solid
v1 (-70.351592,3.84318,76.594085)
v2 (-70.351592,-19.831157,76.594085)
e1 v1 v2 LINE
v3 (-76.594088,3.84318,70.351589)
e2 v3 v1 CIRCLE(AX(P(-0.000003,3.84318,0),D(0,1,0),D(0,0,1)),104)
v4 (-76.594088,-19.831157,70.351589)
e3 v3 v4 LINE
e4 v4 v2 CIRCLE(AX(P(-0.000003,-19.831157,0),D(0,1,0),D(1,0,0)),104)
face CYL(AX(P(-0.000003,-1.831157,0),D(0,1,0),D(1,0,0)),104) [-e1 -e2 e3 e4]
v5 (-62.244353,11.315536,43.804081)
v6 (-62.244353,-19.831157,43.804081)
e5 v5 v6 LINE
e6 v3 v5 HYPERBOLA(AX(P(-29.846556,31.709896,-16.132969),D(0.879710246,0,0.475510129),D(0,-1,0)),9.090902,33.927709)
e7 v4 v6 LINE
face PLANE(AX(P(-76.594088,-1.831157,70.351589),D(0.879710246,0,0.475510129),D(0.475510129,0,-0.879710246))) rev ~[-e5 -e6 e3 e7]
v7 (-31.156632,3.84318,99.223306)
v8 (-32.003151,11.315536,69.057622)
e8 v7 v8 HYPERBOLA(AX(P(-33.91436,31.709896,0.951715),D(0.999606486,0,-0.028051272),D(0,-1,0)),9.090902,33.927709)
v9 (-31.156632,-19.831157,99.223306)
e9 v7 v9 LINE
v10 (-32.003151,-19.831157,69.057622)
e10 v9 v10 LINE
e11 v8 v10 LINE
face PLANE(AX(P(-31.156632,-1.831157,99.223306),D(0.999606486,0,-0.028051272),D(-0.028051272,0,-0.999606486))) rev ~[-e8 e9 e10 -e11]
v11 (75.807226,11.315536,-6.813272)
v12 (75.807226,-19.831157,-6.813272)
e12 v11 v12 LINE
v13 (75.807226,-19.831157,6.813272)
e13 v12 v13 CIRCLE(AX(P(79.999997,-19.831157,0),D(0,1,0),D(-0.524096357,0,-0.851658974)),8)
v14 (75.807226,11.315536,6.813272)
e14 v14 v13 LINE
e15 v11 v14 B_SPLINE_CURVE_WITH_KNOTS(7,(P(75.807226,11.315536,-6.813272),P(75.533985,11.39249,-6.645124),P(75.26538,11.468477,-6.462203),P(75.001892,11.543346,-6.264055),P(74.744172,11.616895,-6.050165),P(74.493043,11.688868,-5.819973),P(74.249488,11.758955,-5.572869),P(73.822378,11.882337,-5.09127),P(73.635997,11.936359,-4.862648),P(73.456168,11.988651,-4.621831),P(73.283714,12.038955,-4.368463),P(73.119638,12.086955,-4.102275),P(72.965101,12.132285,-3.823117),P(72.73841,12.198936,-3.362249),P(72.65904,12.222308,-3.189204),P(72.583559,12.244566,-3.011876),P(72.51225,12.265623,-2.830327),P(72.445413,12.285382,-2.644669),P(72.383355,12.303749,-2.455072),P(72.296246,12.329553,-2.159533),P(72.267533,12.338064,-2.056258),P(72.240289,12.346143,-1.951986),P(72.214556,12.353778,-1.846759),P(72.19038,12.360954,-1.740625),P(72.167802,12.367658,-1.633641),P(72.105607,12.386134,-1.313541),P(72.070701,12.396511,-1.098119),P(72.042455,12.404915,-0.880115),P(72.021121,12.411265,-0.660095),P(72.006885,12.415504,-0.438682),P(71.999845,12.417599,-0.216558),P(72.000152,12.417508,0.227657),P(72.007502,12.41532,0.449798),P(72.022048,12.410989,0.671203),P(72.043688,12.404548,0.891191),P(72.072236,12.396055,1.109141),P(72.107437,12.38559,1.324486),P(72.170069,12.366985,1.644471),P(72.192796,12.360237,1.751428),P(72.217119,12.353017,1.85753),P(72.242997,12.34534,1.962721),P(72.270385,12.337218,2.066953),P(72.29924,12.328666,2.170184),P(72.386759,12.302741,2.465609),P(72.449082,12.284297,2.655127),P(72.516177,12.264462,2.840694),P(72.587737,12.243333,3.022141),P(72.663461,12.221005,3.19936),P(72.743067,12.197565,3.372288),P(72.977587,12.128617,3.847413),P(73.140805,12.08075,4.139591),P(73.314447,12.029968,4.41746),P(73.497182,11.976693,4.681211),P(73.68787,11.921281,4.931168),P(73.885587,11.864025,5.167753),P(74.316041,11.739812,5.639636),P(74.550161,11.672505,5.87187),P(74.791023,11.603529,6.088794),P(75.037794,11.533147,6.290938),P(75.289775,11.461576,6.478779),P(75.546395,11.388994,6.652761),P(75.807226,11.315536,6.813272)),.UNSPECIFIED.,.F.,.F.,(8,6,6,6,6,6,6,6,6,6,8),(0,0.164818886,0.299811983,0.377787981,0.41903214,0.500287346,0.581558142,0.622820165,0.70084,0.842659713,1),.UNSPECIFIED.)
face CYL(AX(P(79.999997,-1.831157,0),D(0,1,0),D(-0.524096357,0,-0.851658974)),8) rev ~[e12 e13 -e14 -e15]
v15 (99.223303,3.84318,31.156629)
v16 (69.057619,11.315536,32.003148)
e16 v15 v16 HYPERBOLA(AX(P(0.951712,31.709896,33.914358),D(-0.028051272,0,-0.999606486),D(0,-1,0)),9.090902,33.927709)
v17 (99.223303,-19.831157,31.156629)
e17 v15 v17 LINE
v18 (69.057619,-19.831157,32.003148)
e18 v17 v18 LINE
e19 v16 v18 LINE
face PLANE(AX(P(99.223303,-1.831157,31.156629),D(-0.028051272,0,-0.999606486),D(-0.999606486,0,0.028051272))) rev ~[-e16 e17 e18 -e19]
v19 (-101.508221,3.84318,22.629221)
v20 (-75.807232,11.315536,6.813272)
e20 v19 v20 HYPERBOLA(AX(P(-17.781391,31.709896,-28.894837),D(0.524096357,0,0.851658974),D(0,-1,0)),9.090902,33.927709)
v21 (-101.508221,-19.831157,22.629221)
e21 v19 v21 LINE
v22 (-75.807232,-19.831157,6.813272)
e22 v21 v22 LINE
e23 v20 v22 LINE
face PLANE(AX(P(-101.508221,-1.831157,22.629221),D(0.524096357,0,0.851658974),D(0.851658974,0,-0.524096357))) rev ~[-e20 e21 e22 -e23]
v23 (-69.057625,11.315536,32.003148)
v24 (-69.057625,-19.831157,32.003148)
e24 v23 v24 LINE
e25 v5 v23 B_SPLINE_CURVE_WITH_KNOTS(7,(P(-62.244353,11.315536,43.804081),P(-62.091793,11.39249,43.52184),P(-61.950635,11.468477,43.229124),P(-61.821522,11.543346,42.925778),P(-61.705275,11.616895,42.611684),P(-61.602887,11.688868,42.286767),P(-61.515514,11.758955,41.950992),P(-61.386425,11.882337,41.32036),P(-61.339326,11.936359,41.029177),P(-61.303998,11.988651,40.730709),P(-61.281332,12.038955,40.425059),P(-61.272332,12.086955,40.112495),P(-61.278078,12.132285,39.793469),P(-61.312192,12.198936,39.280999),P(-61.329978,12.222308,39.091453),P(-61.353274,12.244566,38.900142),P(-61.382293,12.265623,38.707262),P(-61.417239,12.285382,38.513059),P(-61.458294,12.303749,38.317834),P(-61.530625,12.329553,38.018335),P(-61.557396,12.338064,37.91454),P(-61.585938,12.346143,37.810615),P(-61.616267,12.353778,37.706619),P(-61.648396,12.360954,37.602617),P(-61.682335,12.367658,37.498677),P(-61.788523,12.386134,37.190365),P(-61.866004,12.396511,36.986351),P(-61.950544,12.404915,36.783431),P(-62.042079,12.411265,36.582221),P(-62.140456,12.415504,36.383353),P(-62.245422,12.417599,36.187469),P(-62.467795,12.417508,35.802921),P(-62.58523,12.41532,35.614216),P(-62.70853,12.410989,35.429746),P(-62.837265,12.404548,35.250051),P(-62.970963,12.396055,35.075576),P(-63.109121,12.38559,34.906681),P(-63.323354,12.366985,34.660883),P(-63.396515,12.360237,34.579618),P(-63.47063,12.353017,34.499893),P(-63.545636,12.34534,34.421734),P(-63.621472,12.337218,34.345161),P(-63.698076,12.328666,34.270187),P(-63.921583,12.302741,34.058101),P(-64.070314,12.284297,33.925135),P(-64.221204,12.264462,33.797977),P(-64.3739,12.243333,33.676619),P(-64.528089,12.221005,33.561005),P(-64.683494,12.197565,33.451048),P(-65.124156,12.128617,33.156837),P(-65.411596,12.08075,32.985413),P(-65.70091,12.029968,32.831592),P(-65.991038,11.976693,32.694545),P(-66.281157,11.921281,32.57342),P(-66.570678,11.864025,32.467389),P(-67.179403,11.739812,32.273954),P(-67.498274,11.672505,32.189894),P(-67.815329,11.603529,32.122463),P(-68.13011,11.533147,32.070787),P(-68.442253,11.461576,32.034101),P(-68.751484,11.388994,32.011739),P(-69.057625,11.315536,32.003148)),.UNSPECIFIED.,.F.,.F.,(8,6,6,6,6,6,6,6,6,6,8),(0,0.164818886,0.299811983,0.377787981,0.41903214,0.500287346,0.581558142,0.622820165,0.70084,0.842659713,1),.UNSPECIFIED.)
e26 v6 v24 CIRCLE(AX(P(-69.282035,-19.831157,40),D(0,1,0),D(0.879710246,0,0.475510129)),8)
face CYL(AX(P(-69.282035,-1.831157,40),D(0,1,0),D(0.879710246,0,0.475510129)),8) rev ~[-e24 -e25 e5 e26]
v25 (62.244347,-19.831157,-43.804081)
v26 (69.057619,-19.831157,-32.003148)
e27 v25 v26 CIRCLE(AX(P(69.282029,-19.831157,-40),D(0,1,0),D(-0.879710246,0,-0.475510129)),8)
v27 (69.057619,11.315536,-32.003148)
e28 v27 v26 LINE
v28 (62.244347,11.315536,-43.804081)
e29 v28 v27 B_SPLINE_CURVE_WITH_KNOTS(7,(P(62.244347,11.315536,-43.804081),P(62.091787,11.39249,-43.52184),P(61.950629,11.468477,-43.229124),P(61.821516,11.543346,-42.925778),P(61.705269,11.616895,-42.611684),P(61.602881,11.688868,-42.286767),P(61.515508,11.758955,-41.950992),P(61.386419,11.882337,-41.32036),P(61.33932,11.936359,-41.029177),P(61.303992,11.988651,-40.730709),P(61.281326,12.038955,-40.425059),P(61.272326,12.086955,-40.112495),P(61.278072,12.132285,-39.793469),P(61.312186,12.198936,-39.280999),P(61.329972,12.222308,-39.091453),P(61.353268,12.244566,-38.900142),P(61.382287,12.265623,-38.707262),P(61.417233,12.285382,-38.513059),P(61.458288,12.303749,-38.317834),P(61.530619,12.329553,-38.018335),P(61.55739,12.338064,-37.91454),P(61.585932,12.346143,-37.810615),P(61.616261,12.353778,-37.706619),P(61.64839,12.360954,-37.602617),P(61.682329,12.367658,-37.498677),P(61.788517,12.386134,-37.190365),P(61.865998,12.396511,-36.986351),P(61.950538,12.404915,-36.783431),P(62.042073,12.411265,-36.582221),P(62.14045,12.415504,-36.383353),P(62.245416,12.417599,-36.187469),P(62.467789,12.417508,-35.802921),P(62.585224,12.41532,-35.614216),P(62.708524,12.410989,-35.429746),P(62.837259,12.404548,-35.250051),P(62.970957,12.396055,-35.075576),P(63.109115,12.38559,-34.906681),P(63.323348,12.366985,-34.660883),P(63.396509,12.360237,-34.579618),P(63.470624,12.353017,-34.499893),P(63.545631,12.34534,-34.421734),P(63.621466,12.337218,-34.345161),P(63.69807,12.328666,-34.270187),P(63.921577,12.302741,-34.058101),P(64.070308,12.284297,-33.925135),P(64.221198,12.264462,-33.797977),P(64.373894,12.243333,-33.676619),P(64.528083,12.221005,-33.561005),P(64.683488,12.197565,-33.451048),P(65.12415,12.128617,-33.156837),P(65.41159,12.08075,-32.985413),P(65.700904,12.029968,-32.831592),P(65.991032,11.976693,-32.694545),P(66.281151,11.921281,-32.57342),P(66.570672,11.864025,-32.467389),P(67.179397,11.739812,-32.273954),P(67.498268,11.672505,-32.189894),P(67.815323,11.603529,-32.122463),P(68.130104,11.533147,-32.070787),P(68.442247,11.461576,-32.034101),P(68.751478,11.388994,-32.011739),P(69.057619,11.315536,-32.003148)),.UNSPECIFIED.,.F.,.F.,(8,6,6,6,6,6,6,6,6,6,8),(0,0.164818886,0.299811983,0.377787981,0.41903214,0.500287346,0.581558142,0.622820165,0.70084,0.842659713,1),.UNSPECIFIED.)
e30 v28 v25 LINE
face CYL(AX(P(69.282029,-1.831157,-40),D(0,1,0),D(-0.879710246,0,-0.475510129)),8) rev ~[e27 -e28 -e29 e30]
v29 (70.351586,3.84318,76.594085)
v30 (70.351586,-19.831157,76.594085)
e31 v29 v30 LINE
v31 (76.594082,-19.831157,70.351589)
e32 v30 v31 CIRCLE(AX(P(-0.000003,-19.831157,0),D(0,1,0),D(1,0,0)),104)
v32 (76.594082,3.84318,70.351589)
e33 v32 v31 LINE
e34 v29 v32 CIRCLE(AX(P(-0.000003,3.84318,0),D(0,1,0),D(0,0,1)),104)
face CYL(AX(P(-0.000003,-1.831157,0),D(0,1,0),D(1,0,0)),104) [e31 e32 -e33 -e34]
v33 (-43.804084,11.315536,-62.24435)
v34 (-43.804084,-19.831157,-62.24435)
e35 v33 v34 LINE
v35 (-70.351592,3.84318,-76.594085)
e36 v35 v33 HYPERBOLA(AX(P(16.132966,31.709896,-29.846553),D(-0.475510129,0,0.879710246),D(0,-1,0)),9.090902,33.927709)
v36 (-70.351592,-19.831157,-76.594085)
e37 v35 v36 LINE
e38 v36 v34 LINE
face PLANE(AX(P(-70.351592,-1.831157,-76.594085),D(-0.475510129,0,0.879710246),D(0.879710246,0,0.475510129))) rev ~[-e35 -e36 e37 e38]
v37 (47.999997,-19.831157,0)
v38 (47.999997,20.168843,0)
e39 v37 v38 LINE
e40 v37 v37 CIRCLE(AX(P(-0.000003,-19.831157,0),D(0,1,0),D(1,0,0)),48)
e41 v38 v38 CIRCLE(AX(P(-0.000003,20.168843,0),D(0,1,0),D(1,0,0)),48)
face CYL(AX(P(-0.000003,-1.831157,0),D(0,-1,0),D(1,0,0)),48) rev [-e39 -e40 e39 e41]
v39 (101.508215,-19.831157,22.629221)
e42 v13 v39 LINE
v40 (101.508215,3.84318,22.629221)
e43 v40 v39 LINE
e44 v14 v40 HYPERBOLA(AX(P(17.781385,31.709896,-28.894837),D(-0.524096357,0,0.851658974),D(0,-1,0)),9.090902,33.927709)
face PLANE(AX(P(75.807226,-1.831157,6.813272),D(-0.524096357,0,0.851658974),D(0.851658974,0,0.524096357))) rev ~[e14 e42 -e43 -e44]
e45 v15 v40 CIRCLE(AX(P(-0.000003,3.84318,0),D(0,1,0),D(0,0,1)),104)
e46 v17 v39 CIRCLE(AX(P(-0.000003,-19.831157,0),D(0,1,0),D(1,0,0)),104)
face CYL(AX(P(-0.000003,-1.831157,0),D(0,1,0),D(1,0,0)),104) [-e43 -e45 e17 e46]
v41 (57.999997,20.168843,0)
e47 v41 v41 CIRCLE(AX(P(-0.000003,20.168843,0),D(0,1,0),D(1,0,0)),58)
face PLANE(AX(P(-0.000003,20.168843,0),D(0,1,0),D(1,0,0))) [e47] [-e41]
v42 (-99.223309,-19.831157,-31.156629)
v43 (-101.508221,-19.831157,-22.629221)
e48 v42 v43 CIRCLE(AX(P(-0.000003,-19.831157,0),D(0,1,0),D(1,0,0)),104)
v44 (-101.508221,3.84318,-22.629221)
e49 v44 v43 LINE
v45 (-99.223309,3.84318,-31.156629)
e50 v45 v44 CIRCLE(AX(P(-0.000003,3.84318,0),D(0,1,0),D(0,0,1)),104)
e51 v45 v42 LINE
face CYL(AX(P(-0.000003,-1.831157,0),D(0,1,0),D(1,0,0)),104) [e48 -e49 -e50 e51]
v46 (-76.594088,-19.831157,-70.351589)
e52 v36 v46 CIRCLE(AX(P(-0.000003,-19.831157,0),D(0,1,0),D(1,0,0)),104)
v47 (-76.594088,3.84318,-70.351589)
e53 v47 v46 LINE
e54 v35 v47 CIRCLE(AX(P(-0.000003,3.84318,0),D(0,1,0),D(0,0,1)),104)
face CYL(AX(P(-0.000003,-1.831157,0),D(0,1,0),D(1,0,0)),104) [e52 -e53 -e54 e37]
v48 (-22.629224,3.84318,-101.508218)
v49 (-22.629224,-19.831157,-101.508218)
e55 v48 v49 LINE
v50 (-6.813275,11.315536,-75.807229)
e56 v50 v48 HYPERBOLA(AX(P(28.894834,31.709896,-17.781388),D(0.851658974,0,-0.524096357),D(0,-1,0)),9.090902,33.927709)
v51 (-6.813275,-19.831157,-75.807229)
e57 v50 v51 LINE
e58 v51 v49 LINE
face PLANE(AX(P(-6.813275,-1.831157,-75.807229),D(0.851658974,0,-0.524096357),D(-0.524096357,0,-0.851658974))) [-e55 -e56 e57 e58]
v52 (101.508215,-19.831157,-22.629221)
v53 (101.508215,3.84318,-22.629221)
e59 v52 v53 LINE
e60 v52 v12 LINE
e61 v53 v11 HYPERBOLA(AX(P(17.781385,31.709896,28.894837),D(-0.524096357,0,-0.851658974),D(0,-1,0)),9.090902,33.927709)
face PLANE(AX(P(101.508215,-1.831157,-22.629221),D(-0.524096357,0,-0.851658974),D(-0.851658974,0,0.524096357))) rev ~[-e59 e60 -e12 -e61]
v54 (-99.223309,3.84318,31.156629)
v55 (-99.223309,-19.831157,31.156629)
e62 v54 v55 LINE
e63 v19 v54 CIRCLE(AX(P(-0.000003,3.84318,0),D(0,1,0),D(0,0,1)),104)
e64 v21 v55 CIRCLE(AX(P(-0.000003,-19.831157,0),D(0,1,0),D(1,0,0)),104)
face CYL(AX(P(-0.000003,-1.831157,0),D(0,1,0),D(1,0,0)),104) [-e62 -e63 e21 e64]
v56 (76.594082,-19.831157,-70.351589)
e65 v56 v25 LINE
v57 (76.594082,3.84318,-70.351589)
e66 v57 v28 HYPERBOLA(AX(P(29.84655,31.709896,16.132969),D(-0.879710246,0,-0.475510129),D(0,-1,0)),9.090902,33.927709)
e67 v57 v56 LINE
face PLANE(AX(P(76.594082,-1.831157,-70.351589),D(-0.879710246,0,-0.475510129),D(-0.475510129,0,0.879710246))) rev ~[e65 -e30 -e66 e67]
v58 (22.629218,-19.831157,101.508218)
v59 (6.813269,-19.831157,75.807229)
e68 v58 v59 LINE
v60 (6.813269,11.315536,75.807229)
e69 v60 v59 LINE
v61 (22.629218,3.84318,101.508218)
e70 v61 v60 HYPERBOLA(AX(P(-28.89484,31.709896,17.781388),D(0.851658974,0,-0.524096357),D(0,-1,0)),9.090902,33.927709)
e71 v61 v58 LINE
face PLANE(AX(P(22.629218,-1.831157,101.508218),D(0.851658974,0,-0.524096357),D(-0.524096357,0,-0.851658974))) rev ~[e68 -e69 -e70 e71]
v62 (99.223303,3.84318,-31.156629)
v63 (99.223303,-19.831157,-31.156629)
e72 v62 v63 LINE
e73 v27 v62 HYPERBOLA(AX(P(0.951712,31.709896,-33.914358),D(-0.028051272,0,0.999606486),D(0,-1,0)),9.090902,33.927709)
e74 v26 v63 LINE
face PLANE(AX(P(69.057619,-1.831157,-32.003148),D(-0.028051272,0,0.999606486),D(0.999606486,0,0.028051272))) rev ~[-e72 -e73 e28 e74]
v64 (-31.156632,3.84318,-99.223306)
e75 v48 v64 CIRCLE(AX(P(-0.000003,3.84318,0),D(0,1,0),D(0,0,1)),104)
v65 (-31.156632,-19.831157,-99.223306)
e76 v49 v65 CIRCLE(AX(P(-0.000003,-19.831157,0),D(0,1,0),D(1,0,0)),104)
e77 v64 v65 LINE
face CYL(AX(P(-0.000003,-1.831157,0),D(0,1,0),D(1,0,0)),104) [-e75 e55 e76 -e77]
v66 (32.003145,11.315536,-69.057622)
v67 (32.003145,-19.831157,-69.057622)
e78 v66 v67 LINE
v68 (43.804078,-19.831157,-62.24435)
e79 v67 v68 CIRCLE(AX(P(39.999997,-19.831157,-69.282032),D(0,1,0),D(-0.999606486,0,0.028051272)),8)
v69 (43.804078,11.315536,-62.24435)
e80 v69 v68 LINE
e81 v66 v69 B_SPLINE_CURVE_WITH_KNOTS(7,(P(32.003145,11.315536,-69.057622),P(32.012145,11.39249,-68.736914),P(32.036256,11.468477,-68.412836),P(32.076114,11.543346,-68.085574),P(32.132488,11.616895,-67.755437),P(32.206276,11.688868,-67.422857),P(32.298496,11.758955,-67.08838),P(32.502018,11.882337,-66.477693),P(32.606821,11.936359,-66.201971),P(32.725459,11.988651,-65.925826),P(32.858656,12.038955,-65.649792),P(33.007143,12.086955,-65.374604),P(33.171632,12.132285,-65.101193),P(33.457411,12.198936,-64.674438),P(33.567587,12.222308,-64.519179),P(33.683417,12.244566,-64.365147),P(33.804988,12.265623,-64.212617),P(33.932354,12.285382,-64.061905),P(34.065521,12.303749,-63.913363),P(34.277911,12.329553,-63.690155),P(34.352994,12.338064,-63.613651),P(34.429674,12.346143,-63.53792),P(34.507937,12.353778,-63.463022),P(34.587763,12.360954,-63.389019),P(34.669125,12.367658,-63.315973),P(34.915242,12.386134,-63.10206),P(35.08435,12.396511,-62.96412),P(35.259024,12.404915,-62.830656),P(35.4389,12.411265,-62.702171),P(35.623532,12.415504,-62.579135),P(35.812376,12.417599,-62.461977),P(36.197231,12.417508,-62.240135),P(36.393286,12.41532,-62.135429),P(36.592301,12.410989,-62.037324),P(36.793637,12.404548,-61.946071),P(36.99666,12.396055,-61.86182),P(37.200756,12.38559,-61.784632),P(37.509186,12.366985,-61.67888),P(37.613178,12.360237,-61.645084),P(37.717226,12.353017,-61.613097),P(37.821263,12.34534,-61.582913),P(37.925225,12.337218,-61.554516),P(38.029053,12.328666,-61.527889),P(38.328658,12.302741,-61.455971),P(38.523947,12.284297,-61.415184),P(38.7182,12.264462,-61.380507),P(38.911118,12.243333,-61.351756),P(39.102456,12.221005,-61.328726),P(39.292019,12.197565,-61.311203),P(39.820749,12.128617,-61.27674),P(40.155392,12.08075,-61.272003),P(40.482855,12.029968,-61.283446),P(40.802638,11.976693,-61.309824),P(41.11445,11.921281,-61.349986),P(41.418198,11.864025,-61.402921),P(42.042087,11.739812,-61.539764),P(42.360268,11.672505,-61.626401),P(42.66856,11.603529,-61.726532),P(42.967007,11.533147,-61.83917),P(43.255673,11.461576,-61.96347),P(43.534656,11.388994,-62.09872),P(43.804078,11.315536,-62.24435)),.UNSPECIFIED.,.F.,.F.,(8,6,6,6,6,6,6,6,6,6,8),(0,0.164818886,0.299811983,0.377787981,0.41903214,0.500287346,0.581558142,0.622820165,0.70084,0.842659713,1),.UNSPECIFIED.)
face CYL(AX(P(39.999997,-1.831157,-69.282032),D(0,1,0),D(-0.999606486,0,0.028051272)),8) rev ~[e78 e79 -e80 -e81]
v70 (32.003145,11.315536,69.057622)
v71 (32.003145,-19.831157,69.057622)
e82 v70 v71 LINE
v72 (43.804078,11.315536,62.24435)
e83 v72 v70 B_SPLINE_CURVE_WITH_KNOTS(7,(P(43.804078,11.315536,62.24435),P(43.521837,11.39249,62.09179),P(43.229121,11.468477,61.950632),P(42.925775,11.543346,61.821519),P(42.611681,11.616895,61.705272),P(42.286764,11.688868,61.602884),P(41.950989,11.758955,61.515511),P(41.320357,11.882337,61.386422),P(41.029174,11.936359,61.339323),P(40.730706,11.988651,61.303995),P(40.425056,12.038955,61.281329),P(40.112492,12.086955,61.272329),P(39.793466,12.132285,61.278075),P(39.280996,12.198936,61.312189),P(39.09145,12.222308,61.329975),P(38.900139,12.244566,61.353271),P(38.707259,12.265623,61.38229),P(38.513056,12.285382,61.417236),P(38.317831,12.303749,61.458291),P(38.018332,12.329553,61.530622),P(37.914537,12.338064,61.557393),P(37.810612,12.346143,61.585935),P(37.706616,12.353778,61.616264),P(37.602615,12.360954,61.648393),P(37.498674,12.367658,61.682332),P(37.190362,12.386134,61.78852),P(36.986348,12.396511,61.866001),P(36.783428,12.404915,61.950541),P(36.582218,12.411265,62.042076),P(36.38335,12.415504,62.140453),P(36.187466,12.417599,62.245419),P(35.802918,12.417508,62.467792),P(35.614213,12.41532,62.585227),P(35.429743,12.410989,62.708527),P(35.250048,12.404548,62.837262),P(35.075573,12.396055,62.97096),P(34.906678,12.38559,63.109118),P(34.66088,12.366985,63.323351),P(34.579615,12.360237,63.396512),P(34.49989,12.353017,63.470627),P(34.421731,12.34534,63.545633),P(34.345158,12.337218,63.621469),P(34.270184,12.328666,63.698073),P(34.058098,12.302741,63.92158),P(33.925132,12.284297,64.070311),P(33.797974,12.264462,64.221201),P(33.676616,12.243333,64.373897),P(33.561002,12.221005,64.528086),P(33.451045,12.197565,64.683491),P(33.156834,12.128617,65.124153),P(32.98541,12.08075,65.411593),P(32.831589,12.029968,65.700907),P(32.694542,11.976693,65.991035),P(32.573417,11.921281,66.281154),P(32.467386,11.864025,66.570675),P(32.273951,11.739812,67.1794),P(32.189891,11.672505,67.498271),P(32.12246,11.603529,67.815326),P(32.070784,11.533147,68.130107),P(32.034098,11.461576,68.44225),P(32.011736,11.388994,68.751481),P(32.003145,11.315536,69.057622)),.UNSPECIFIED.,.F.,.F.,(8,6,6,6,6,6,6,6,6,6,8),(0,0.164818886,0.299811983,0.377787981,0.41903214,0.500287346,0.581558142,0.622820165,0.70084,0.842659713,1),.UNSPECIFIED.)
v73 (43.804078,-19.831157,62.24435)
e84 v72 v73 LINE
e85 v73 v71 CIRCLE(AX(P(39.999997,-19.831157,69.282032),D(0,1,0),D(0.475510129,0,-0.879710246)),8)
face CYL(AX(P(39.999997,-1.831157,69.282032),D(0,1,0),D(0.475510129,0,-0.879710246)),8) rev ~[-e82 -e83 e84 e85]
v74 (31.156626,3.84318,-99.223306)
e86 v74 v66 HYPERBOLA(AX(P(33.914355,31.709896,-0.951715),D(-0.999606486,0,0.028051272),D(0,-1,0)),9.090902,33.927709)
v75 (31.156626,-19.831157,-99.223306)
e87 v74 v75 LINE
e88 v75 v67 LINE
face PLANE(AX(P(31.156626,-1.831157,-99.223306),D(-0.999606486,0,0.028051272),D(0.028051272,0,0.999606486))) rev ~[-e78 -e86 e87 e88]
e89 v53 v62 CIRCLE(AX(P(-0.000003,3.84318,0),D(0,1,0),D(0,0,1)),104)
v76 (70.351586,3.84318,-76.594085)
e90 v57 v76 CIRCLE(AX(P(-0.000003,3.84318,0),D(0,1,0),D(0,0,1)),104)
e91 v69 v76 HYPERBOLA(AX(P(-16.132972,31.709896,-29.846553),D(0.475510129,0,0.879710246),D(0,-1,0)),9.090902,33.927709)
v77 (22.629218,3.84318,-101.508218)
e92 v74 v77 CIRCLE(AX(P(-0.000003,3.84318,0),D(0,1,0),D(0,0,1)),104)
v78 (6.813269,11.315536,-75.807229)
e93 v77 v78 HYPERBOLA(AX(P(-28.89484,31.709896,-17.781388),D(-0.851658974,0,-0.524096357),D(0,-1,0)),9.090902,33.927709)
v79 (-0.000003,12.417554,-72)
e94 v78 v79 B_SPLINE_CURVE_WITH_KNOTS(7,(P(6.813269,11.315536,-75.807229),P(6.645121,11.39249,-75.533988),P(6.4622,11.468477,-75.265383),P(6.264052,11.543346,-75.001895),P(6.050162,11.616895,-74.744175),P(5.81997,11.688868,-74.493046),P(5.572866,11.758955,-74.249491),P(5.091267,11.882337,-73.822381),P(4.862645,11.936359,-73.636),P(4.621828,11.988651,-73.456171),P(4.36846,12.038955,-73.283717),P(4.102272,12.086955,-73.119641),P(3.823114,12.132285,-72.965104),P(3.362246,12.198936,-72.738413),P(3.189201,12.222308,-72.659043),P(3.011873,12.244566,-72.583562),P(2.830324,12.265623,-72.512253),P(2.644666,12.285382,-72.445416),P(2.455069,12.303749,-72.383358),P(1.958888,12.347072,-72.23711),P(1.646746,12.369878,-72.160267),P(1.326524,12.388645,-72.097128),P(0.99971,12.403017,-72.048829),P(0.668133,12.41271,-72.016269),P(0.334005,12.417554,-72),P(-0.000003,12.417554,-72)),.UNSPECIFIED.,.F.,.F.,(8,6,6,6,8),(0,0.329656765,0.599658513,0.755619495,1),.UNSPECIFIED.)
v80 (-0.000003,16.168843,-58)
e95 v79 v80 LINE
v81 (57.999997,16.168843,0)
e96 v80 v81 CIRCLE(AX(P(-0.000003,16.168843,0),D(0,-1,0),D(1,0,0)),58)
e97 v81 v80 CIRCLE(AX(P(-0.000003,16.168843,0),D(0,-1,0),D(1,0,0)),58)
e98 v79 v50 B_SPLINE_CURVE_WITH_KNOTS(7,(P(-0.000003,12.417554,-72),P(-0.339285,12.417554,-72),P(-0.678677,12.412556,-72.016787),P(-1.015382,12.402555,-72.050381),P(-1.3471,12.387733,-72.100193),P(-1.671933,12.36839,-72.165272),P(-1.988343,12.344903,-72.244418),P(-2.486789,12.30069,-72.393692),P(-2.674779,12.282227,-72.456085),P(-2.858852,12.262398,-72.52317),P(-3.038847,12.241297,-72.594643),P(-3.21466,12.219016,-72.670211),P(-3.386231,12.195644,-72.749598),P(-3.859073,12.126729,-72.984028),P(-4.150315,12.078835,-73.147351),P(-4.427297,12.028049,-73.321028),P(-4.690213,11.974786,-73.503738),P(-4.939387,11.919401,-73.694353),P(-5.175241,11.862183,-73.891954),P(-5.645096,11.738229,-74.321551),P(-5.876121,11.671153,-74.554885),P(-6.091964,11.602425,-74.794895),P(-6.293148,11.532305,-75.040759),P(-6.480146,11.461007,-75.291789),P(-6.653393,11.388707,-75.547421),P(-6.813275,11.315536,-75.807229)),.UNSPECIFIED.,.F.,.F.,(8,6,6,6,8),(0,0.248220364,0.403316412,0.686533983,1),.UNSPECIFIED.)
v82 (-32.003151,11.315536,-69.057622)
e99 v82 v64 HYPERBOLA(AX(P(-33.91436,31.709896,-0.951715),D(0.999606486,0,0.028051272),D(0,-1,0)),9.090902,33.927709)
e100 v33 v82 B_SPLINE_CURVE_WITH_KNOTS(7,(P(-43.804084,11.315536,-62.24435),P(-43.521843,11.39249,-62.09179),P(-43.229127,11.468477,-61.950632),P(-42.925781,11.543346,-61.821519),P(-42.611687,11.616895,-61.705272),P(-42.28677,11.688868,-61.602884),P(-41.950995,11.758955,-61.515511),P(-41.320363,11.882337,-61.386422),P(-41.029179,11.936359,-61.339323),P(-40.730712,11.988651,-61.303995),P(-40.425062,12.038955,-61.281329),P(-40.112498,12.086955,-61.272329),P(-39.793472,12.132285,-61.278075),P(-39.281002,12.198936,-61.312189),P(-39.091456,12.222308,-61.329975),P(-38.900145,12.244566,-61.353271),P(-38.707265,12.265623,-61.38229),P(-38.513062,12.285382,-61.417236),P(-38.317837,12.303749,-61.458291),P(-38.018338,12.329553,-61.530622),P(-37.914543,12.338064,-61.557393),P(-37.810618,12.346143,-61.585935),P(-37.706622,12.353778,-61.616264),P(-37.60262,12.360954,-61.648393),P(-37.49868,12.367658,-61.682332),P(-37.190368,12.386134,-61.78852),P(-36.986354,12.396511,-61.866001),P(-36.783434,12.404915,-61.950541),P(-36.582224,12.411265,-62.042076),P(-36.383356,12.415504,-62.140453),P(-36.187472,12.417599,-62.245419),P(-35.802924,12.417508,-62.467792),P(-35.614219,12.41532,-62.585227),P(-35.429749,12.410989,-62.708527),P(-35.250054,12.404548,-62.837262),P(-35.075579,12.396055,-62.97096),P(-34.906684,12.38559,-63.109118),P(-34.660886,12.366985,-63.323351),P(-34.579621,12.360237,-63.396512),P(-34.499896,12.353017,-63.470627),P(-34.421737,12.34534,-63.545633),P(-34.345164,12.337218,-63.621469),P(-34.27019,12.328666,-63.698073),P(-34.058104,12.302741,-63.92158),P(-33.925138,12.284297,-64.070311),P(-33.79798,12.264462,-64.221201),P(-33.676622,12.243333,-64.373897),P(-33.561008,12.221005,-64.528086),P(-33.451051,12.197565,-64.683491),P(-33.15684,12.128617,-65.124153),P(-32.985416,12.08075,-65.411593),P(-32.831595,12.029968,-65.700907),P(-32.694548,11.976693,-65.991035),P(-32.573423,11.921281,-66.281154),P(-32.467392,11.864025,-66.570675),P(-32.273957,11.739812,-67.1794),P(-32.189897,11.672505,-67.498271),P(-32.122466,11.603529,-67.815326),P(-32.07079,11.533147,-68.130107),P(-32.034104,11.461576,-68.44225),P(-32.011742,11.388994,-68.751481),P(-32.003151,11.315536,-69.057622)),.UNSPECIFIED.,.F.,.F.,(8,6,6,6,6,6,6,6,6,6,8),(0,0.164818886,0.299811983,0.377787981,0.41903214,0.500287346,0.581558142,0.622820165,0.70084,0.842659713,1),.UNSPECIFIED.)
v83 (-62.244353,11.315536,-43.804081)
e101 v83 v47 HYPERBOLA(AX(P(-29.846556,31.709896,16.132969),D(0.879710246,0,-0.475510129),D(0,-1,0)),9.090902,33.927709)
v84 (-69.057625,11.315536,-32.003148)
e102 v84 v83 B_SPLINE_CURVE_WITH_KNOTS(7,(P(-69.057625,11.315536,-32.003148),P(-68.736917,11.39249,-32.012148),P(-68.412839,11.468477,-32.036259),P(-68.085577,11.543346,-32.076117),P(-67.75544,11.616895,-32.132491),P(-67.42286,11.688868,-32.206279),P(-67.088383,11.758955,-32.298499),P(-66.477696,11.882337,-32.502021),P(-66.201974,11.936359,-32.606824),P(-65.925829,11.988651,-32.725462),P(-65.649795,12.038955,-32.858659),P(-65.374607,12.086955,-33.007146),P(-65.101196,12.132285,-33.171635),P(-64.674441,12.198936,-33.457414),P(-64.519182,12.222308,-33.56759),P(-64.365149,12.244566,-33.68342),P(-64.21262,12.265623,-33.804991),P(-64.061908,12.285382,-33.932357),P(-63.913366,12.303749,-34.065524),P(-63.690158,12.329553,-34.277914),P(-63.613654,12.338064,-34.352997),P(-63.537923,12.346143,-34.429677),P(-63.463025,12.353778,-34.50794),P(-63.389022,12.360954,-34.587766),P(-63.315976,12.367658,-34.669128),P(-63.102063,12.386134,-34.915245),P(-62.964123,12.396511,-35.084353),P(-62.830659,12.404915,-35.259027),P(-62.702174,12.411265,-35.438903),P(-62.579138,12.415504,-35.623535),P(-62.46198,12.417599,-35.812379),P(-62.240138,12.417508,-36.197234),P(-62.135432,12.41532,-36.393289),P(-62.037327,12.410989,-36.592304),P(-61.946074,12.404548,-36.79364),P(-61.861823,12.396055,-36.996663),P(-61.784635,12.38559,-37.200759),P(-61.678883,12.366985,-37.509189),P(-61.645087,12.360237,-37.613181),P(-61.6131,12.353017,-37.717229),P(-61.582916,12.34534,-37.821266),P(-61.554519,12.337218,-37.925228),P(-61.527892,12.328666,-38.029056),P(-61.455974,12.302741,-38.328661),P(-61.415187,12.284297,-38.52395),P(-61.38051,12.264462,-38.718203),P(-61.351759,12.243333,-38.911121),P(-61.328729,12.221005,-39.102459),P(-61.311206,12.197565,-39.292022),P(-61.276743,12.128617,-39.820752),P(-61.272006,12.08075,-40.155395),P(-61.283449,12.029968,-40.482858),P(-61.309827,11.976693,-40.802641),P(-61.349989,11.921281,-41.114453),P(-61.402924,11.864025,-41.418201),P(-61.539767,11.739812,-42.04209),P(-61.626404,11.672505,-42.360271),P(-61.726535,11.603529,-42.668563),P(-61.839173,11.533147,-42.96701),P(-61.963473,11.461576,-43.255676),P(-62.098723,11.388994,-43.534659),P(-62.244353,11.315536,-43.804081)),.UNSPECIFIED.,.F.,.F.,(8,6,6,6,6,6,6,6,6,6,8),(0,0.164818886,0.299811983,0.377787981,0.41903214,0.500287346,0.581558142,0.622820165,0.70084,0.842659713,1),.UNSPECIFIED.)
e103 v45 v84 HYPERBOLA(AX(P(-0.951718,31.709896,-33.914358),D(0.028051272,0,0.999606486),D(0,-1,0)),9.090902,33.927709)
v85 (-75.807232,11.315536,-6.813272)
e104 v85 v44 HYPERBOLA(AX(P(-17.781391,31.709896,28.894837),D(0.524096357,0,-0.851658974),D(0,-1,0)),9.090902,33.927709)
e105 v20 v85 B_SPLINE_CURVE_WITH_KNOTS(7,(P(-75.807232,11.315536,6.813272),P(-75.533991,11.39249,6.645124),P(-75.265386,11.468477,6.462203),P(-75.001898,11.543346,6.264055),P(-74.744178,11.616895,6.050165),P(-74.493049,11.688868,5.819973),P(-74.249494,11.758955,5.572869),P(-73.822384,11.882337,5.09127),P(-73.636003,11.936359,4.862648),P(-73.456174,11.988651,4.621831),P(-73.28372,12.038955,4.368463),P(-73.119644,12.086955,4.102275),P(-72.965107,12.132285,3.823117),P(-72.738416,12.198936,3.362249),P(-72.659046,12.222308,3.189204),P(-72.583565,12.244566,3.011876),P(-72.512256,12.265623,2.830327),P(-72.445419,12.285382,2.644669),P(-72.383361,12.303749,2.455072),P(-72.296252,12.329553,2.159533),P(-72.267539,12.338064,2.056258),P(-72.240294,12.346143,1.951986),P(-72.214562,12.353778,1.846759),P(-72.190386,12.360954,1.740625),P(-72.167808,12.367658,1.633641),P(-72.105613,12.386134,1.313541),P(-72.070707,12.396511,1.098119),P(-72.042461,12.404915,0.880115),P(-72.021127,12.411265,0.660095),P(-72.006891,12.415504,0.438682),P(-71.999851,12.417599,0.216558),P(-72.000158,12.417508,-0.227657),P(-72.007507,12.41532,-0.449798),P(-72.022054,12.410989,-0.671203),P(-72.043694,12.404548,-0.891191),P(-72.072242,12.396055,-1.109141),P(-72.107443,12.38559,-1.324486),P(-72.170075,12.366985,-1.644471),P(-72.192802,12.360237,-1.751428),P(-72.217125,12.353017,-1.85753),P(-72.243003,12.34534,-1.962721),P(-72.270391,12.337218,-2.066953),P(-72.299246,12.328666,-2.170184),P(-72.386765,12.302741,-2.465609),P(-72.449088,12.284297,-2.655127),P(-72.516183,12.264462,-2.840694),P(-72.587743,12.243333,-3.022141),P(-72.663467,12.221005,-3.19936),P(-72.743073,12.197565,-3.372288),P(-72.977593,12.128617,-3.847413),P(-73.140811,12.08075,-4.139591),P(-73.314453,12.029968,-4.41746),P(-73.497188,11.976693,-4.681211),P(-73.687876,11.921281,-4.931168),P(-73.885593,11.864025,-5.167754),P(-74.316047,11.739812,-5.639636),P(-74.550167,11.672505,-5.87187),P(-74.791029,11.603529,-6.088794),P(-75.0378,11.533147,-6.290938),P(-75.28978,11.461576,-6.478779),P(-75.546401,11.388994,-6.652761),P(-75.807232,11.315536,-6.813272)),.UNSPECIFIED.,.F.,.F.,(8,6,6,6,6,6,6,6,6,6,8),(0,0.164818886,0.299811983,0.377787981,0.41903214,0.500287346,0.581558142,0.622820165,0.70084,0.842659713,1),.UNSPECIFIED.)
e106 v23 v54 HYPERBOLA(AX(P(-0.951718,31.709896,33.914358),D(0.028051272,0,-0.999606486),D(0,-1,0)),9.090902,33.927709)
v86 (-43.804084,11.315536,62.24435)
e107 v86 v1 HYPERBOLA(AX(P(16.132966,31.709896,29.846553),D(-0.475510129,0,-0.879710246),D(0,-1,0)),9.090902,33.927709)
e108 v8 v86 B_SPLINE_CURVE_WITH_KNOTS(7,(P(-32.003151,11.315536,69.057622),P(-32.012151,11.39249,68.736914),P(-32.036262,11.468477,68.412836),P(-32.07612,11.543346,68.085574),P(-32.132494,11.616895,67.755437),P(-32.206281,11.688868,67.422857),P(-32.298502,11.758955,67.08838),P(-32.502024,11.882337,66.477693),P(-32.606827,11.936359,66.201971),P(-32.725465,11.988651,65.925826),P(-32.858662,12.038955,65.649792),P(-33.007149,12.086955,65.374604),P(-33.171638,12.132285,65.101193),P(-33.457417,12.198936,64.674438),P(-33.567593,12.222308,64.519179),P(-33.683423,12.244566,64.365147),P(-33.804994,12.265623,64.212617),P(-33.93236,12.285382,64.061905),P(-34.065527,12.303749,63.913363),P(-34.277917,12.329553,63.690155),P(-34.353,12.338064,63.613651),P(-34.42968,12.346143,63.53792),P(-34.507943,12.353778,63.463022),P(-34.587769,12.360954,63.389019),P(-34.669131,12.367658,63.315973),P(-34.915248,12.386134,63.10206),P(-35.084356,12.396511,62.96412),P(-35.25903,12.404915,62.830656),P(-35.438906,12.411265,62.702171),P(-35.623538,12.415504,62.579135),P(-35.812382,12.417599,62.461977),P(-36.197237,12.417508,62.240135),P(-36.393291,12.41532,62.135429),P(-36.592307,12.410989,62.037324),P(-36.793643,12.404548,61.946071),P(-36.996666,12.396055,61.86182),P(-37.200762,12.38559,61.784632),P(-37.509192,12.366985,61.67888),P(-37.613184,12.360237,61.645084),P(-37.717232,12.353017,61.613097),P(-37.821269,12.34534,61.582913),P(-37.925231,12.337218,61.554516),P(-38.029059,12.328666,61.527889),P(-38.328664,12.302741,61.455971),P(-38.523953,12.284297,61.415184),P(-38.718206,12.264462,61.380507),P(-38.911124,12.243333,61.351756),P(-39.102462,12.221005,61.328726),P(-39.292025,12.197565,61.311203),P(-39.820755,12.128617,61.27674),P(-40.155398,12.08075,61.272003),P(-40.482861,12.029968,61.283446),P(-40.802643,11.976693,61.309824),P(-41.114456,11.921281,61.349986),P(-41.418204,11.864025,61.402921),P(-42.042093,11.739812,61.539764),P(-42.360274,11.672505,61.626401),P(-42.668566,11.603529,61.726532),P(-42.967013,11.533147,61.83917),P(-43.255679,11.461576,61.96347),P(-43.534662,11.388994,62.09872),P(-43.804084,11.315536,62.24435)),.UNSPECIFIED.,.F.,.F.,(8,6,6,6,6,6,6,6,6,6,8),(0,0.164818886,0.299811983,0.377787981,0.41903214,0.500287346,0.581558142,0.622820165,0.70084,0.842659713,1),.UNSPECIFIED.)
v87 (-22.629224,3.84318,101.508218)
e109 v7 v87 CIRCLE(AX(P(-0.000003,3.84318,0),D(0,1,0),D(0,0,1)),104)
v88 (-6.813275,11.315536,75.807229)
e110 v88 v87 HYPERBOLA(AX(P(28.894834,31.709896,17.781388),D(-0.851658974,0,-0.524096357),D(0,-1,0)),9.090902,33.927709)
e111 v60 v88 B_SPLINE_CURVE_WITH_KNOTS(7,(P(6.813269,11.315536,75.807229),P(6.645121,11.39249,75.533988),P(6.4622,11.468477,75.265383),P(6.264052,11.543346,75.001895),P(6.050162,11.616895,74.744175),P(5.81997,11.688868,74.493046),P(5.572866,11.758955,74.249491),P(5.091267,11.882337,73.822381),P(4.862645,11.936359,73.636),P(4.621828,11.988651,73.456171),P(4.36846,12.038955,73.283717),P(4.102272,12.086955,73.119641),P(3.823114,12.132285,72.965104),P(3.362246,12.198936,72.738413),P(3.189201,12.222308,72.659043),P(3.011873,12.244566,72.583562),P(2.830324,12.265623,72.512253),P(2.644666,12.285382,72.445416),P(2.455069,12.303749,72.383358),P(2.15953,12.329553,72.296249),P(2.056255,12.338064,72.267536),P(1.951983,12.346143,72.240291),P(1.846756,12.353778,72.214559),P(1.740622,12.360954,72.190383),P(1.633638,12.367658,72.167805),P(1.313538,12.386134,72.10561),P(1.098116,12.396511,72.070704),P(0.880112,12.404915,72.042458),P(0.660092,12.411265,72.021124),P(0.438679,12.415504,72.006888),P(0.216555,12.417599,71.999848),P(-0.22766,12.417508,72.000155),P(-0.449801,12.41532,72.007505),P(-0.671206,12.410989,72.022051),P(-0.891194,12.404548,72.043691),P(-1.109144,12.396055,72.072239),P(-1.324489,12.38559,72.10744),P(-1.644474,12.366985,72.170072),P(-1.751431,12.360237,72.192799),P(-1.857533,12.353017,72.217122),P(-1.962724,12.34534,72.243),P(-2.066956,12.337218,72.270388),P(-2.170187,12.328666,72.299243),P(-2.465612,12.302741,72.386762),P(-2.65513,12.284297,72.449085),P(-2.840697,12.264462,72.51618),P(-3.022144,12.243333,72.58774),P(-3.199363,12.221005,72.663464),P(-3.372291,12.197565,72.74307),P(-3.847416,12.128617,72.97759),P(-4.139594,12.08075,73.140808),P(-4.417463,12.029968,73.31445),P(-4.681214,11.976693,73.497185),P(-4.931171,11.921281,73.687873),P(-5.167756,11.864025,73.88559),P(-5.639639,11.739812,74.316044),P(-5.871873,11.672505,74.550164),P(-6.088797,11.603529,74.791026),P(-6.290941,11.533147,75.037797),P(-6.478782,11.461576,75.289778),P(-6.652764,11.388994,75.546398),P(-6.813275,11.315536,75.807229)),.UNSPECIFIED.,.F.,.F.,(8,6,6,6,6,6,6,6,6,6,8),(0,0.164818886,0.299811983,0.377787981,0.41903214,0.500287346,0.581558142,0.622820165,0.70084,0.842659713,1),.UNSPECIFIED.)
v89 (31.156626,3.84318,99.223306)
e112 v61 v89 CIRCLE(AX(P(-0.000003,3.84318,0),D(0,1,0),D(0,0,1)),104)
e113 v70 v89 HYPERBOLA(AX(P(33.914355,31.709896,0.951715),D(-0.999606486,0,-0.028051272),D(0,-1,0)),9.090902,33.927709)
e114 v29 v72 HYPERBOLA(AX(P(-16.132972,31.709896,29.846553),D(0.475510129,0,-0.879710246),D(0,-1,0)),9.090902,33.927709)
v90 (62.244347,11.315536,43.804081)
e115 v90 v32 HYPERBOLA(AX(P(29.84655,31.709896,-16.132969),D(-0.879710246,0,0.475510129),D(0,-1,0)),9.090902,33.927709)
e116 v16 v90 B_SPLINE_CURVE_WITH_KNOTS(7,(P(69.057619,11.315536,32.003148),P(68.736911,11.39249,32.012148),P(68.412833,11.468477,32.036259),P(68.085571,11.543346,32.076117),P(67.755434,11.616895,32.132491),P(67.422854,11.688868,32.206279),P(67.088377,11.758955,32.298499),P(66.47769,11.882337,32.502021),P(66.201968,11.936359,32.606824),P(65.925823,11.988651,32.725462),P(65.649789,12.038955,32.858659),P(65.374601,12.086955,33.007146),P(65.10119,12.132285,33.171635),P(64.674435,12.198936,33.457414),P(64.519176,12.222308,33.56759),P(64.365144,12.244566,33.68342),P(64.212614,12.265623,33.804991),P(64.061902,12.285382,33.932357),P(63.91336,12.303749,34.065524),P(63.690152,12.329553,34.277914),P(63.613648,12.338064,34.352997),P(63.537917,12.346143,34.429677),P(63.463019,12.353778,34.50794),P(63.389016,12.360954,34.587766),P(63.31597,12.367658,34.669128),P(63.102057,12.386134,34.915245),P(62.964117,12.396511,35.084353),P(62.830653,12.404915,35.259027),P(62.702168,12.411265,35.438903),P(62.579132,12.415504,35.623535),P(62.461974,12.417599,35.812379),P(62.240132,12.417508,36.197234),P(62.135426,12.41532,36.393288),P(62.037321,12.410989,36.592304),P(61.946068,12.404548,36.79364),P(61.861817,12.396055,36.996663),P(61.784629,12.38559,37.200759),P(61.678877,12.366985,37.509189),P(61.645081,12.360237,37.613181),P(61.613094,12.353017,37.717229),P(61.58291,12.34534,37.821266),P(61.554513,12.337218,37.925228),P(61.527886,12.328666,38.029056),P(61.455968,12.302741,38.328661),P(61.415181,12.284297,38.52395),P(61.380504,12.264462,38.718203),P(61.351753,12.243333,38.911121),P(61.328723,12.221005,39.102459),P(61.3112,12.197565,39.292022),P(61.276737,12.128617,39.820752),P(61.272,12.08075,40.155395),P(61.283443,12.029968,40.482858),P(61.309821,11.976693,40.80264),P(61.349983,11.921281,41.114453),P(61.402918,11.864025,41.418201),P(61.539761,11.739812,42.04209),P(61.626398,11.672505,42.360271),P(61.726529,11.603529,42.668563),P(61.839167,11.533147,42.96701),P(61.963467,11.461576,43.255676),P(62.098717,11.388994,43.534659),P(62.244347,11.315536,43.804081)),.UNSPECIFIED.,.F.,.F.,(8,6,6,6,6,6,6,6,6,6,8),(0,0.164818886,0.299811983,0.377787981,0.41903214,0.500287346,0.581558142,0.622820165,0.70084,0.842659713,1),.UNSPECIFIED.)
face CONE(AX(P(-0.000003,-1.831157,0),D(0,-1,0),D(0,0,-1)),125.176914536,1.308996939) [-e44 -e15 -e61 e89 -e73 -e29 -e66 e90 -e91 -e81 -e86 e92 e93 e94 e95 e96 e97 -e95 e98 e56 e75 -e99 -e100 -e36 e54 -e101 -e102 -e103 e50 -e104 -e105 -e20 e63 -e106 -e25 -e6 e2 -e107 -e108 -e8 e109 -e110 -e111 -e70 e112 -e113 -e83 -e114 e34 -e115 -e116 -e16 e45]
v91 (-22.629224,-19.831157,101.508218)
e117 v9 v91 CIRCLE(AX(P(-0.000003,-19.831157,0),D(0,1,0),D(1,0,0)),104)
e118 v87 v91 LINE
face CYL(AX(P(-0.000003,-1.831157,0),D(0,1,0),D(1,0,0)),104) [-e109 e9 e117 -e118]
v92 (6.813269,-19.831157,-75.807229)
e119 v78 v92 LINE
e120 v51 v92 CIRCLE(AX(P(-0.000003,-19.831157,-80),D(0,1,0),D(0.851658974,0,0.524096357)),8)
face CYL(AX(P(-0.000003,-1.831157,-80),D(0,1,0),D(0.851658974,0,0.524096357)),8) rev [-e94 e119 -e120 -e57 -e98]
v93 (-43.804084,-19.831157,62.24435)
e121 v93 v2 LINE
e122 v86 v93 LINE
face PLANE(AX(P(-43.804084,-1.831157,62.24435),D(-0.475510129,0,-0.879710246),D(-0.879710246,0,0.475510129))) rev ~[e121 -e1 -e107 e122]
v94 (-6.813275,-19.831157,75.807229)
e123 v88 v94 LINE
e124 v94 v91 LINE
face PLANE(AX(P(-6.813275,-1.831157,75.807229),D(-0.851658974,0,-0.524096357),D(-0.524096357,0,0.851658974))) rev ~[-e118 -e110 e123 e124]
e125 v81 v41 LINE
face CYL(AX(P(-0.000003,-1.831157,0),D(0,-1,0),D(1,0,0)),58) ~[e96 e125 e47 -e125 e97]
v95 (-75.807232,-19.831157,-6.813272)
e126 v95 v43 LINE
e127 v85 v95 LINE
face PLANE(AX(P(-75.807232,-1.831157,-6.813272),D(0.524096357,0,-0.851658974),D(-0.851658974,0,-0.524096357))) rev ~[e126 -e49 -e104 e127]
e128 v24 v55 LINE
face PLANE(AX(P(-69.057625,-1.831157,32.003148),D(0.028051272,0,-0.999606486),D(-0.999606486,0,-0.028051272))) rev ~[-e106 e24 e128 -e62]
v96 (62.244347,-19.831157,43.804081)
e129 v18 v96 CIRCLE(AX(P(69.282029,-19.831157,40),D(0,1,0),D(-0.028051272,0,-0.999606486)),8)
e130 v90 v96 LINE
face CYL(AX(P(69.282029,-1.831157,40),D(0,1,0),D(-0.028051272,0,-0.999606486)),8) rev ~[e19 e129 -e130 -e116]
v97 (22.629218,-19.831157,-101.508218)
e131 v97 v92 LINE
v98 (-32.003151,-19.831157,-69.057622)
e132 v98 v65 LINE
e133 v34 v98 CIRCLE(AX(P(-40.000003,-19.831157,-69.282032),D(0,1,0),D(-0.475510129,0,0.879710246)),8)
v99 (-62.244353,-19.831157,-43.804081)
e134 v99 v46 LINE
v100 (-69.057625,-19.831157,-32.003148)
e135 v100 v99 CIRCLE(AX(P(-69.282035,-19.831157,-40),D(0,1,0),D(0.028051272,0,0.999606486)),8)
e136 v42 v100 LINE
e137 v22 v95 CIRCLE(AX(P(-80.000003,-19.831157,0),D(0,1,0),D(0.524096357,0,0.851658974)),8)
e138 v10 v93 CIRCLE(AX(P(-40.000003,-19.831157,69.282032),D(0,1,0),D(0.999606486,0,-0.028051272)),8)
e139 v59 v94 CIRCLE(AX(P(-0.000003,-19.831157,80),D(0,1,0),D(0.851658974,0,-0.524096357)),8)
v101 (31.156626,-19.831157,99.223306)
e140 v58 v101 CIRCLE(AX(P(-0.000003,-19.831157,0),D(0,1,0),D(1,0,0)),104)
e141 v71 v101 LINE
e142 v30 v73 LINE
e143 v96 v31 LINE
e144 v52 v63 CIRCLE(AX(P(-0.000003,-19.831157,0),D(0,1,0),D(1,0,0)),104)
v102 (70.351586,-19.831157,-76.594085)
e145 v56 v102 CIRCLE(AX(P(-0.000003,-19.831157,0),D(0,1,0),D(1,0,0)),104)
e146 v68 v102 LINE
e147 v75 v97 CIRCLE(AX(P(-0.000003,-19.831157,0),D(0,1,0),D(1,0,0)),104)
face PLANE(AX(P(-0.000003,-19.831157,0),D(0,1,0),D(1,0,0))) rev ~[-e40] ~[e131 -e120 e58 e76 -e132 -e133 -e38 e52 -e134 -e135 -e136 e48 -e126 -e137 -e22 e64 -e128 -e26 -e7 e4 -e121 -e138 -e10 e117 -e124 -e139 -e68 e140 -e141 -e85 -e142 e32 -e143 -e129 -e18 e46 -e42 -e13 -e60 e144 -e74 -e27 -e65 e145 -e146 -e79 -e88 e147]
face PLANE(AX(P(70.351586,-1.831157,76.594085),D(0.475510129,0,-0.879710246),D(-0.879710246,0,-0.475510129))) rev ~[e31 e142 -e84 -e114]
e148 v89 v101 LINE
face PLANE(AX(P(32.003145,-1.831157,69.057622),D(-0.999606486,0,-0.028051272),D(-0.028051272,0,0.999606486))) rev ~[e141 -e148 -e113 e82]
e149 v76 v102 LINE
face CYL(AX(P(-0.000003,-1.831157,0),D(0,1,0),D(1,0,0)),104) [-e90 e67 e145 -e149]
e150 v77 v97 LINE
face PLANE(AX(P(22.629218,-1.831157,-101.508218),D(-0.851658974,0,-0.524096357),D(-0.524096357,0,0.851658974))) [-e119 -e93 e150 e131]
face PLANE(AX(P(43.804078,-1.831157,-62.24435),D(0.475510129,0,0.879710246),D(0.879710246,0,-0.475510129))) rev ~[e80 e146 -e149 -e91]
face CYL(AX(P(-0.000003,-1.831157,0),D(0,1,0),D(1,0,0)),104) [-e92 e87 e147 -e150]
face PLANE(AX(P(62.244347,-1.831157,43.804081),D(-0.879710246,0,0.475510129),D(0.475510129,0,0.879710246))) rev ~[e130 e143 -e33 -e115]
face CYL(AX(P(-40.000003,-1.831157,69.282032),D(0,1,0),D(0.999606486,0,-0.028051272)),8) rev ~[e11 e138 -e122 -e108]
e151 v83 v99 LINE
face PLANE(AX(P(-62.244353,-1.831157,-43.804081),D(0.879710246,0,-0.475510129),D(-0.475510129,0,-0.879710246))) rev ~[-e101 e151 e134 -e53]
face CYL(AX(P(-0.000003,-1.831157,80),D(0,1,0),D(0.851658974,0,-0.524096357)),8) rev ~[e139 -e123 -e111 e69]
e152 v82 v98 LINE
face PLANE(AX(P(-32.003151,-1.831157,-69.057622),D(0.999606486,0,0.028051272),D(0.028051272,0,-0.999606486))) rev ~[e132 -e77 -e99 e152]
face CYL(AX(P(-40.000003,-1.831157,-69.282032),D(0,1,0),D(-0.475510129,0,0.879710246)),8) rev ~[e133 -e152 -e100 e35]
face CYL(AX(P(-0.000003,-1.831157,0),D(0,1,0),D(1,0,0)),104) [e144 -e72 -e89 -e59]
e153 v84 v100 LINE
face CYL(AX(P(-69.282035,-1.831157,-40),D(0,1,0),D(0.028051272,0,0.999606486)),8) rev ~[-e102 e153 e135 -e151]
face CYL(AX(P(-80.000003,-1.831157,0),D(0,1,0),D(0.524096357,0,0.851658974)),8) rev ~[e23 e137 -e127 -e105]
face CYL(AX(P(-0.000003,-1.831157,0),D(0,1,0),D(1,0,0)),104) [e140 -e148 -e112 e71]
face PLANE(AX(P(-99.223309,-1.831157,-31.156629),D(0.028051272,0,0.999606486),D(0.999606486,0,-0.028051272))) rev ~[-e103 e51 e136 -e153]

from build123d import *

# Parameters (mm, degrees)
SKETCH1_R               = 260
SKETCH1_R_2             = 120
BOSS_EXTRUDE1_DEPTH     = 45
SKETCH2_R               = 145
SKETCH2_R_2             = 120
BOSS_EXTRUDE3_DEPTH     = 55
CUT_EXTRUDE1_DEPTH      = 56
CUT_EXTRUDE1_DEPTH_BACK = 46
SCALE2_SCALE            = 0.4


with BuildPart() as part:
    # Sketch1 → Boss-Extrude1 (new body, symmetric)
    with BuildSketch(Plane(origin=(0, 0, 0), x_dir=(1, 0, 0), z_dir=(0, 1, 0))):
        Circle(SKETCH1_R)
        Circle(SKETCH1_R_2, mode=Mode.SUBTRACT)
    extrude(amount=BOSS_EXTRUDE1_DEPTH, both=True)

    # Sketch2 → Boss-Extrude3 (add)
    with BuildSketch(Plane(origin=(0, 0, 0), x_dir=(1, 0, 0), z_dir=(0, 1, 0))):
        Circle(SKETCH2_R)
        Circle(SKETCH2_R_2, mode=Mode.SUBTRACT)
    extrude(amount=BOSS_EXTRUDE3_DEPTH)

    # Sketch4 → Cut-Extrude1 (cut, two sides)
    with BuildSketch(Plane(origin=(0, 0, 0), x_dir=(1, 0, 0), z_dir=(0, 1, 0))) as cut_extrude1_sk:
        with BuildLine():
            Line((-17.033179487, 189.518072861), (-56.573051576, 253.770545642))
            ThreePointArc((-56.573051576, 253.770545642), (0, 260), (56.573051576, 253.770545642))
            Line((56.573051576, 253.770545642), (17.033179487, 189.518072861))
            ThreePointArc((17.033179487, 189.518072861), (0, 180), (-17.033179487, 189.518072861))
        make_face()
        with BuildLine():
            Line((109.510202574, 155.61087583), (175.878972656, 191.48521347))
            ThreePointArc((175.878972656, 191.48521347), (130, 225.166604984), (77.891572987, 248.058265046))
            Line((77.891572987, 248.058265046), (80.007870288, 172.644055317))
            ThreePointArc((80.007870288, 172.644055317), (90, 155.884572681), (109.510202574, 155.61087583))
        make_face()
        with BuildLine():
            Line((172.644055318, 80.007870287), (248.058265047, 77.891572986))
            ThreePointArc((248.058265047, 77.891572986), (225.166604985, 130), (191.485213471, 175.878972655))
            Line((191.485213471, 175.878972655), (155.610875831, 109.510202573))
            ThreePointArc((155.610875831, 109.510202573), (155.884572682, 90), (172.644055318, 80.007870287))
        make_face()
        with BuildLine():
            Line((189.518072862, -17.033179488), (253.770545643, -56.573051577))
            ThreePointArc((253.770545643, -56.573051577), (260.000000001, -1e-09), (253.770545643, 56.573051575))
            Line((253.770545643, 56.573051575), (189.518072862, 17.033179486))
            ThreePointArc((189.518072862, 17.033179486), (180.000000001, -1e-09), (189.518072862, -17.033179488))
        make_face()
        with BuildLine():
            Line((155.610875831, -109.510202575), (191.485213471, -175.878972657))
            ThreePointArc((191.485213471, -175.878972657), (225.166604985, -130.000000001), (248.058265047, -77.891572988))
            Line((248.058265047, -77.891572988), (172.644055318, -80.007870289))
            ThreePointArc((172.644055318, -80.007870289), (155.884572682, -90.000000001), (155.610875831, -109.510202575))
        make_face()
        with BuildLine():
            Line((80.007870288, -172.644055319), (77.891572987, -248.058265048))
            ThreePointArc((77.891572987, -248.058265048), (130, -225.166604986), (175.878972656, -191.485213472))
            Line((175.878972656, -191.485213472), (109.510202574, -155.610875832))
            ThreePointArc((109.510202574, -155.610875832), (90, -155.884572683), (80.007870288, -172.644055319))
        make_face()
        with BuildLine():
            Line((-17.033179487, -189.518072863), (-56.573051576, -253.770545644))
            ThreePointArc((-56.573051576, -253.770545644), (0, -260.000000002), (56.573051576, -253.770545644))
            Line((56.573051576, -253.770545644), (17.033179487, -189.518072863))
            ThreePointArc((17.033179487, -189.518072863), (0, -180.000000002), (-17.033179487, -189.518072863))
        make_face()
        with BuildLine():
            Line((-109.510202574, -155.610875832), (-175.878972656, -191.485213472))
            ThreePointArc((-175.878972656, -191.485213472), (-130, -225.166604986), (-77.891572987, -248.058265048))
            Line((-77.891572987, -248.058265048), (-80.007870288, -172.644055319))
            ThreePointArc((-80.007870288, -172.644055319), (-90, -155.884572683), (-109.510202574, -155.610875832))
        make_face()
        with BuildLine():
            Line((-172.644055318, -80.007870289), (-248.058265047, -77.891572988))
            ThreePointArc((-248.058265047, -77.891572988), (-225.166604985, -130.000000001), (-191.485213471, -175.878972657))
            Line((-191.485213471, -175.878972657), (-155.610875831, -109.510202575))
            ThreePointArc((-155.610875831, -109.510202575), (-155.884572682, -90.000000001), (-172.644055318, -80.007870289))
        make_face()
        with BuildLine():
            Line((-189.518072862, 17.033179486), (-253.770545643, 56.573051575))
            ThreePointArc((-253.770545643, 56.573051575), (-260.000000001, -1e-09), (-253.770545643, -56.573051577))
            Line((-253.770545643, -56.573051577), (-189.518072862, -17.033179488))
            ThreePointArc((-189.518072862, -17.033179488), (-180.000000001, -1e-09), (-189.518072862, 17.033179486))
        make_face()
        with BuildLine():
            Line((-155.610875831, 109.510202573), (-191.485213471, 175.878972655))
            ThreePointArc((-191.485213471, 175.878972655), (-225.166604985, 130), (-248.058265047, 77.891572986))
            Line((-248.058265047, 77.891572986), (-172.644055318, 80.007870287))
            ThreePointArc((-172.644055318, 80.007870287), (-155.884572682, 90), (-155.610875831, 109.510202573))
        make_face()
        with BuildLine():
            Line((-80.007870288, 172.644055317), (-77.891572987, 248.058265046))
            ThreePointArc((-77.891572987, 248.058265046), (-130, 225.166604984), (-175.878972656, 191.48521347))
            Line((-175.878972656, 191.48521347), (-109.510202574, 155.61087583))
            ThreePointArc((-109.510202574, 155.61087583), (-90, 155.884572681), (-80.007870288, 172.644055317))
        make_face()
    extrude(amount=CUT_EXTRUDE1_DEPTH, mode=Mode.SUBTRACT)
    extrude(cut_extrude1_sk.sketch, amount=-CUT_EXTRUDE1_DEPTH_BACK, mode=Mode.SUBTRACT)

    # Sketch9 → Cut-Revolve2 (revolve, cut)
    with BuildSketch(Plane(origin=(0, 0, 0), x_dir=(0, 0, -1), z_dir=(1, 0, 0))):
        Polygon((145, 45), (312.942286341, 45), (312.942286341, 0), align=None)
    revolve(axis=Axis((0, 0, 0), (0, 1, 0)), mode=Mode.SUBTRACT)


with BuildPart() as part_1:
    # Scale2: scaled about (-4.97e-06, -3.05192852, -9e-09)
    add(part.part.scale(SCALE2_SCALE).moved(Location((-2.982e-06, -1.831157112, -5e-09))))


solid = part_1.part
